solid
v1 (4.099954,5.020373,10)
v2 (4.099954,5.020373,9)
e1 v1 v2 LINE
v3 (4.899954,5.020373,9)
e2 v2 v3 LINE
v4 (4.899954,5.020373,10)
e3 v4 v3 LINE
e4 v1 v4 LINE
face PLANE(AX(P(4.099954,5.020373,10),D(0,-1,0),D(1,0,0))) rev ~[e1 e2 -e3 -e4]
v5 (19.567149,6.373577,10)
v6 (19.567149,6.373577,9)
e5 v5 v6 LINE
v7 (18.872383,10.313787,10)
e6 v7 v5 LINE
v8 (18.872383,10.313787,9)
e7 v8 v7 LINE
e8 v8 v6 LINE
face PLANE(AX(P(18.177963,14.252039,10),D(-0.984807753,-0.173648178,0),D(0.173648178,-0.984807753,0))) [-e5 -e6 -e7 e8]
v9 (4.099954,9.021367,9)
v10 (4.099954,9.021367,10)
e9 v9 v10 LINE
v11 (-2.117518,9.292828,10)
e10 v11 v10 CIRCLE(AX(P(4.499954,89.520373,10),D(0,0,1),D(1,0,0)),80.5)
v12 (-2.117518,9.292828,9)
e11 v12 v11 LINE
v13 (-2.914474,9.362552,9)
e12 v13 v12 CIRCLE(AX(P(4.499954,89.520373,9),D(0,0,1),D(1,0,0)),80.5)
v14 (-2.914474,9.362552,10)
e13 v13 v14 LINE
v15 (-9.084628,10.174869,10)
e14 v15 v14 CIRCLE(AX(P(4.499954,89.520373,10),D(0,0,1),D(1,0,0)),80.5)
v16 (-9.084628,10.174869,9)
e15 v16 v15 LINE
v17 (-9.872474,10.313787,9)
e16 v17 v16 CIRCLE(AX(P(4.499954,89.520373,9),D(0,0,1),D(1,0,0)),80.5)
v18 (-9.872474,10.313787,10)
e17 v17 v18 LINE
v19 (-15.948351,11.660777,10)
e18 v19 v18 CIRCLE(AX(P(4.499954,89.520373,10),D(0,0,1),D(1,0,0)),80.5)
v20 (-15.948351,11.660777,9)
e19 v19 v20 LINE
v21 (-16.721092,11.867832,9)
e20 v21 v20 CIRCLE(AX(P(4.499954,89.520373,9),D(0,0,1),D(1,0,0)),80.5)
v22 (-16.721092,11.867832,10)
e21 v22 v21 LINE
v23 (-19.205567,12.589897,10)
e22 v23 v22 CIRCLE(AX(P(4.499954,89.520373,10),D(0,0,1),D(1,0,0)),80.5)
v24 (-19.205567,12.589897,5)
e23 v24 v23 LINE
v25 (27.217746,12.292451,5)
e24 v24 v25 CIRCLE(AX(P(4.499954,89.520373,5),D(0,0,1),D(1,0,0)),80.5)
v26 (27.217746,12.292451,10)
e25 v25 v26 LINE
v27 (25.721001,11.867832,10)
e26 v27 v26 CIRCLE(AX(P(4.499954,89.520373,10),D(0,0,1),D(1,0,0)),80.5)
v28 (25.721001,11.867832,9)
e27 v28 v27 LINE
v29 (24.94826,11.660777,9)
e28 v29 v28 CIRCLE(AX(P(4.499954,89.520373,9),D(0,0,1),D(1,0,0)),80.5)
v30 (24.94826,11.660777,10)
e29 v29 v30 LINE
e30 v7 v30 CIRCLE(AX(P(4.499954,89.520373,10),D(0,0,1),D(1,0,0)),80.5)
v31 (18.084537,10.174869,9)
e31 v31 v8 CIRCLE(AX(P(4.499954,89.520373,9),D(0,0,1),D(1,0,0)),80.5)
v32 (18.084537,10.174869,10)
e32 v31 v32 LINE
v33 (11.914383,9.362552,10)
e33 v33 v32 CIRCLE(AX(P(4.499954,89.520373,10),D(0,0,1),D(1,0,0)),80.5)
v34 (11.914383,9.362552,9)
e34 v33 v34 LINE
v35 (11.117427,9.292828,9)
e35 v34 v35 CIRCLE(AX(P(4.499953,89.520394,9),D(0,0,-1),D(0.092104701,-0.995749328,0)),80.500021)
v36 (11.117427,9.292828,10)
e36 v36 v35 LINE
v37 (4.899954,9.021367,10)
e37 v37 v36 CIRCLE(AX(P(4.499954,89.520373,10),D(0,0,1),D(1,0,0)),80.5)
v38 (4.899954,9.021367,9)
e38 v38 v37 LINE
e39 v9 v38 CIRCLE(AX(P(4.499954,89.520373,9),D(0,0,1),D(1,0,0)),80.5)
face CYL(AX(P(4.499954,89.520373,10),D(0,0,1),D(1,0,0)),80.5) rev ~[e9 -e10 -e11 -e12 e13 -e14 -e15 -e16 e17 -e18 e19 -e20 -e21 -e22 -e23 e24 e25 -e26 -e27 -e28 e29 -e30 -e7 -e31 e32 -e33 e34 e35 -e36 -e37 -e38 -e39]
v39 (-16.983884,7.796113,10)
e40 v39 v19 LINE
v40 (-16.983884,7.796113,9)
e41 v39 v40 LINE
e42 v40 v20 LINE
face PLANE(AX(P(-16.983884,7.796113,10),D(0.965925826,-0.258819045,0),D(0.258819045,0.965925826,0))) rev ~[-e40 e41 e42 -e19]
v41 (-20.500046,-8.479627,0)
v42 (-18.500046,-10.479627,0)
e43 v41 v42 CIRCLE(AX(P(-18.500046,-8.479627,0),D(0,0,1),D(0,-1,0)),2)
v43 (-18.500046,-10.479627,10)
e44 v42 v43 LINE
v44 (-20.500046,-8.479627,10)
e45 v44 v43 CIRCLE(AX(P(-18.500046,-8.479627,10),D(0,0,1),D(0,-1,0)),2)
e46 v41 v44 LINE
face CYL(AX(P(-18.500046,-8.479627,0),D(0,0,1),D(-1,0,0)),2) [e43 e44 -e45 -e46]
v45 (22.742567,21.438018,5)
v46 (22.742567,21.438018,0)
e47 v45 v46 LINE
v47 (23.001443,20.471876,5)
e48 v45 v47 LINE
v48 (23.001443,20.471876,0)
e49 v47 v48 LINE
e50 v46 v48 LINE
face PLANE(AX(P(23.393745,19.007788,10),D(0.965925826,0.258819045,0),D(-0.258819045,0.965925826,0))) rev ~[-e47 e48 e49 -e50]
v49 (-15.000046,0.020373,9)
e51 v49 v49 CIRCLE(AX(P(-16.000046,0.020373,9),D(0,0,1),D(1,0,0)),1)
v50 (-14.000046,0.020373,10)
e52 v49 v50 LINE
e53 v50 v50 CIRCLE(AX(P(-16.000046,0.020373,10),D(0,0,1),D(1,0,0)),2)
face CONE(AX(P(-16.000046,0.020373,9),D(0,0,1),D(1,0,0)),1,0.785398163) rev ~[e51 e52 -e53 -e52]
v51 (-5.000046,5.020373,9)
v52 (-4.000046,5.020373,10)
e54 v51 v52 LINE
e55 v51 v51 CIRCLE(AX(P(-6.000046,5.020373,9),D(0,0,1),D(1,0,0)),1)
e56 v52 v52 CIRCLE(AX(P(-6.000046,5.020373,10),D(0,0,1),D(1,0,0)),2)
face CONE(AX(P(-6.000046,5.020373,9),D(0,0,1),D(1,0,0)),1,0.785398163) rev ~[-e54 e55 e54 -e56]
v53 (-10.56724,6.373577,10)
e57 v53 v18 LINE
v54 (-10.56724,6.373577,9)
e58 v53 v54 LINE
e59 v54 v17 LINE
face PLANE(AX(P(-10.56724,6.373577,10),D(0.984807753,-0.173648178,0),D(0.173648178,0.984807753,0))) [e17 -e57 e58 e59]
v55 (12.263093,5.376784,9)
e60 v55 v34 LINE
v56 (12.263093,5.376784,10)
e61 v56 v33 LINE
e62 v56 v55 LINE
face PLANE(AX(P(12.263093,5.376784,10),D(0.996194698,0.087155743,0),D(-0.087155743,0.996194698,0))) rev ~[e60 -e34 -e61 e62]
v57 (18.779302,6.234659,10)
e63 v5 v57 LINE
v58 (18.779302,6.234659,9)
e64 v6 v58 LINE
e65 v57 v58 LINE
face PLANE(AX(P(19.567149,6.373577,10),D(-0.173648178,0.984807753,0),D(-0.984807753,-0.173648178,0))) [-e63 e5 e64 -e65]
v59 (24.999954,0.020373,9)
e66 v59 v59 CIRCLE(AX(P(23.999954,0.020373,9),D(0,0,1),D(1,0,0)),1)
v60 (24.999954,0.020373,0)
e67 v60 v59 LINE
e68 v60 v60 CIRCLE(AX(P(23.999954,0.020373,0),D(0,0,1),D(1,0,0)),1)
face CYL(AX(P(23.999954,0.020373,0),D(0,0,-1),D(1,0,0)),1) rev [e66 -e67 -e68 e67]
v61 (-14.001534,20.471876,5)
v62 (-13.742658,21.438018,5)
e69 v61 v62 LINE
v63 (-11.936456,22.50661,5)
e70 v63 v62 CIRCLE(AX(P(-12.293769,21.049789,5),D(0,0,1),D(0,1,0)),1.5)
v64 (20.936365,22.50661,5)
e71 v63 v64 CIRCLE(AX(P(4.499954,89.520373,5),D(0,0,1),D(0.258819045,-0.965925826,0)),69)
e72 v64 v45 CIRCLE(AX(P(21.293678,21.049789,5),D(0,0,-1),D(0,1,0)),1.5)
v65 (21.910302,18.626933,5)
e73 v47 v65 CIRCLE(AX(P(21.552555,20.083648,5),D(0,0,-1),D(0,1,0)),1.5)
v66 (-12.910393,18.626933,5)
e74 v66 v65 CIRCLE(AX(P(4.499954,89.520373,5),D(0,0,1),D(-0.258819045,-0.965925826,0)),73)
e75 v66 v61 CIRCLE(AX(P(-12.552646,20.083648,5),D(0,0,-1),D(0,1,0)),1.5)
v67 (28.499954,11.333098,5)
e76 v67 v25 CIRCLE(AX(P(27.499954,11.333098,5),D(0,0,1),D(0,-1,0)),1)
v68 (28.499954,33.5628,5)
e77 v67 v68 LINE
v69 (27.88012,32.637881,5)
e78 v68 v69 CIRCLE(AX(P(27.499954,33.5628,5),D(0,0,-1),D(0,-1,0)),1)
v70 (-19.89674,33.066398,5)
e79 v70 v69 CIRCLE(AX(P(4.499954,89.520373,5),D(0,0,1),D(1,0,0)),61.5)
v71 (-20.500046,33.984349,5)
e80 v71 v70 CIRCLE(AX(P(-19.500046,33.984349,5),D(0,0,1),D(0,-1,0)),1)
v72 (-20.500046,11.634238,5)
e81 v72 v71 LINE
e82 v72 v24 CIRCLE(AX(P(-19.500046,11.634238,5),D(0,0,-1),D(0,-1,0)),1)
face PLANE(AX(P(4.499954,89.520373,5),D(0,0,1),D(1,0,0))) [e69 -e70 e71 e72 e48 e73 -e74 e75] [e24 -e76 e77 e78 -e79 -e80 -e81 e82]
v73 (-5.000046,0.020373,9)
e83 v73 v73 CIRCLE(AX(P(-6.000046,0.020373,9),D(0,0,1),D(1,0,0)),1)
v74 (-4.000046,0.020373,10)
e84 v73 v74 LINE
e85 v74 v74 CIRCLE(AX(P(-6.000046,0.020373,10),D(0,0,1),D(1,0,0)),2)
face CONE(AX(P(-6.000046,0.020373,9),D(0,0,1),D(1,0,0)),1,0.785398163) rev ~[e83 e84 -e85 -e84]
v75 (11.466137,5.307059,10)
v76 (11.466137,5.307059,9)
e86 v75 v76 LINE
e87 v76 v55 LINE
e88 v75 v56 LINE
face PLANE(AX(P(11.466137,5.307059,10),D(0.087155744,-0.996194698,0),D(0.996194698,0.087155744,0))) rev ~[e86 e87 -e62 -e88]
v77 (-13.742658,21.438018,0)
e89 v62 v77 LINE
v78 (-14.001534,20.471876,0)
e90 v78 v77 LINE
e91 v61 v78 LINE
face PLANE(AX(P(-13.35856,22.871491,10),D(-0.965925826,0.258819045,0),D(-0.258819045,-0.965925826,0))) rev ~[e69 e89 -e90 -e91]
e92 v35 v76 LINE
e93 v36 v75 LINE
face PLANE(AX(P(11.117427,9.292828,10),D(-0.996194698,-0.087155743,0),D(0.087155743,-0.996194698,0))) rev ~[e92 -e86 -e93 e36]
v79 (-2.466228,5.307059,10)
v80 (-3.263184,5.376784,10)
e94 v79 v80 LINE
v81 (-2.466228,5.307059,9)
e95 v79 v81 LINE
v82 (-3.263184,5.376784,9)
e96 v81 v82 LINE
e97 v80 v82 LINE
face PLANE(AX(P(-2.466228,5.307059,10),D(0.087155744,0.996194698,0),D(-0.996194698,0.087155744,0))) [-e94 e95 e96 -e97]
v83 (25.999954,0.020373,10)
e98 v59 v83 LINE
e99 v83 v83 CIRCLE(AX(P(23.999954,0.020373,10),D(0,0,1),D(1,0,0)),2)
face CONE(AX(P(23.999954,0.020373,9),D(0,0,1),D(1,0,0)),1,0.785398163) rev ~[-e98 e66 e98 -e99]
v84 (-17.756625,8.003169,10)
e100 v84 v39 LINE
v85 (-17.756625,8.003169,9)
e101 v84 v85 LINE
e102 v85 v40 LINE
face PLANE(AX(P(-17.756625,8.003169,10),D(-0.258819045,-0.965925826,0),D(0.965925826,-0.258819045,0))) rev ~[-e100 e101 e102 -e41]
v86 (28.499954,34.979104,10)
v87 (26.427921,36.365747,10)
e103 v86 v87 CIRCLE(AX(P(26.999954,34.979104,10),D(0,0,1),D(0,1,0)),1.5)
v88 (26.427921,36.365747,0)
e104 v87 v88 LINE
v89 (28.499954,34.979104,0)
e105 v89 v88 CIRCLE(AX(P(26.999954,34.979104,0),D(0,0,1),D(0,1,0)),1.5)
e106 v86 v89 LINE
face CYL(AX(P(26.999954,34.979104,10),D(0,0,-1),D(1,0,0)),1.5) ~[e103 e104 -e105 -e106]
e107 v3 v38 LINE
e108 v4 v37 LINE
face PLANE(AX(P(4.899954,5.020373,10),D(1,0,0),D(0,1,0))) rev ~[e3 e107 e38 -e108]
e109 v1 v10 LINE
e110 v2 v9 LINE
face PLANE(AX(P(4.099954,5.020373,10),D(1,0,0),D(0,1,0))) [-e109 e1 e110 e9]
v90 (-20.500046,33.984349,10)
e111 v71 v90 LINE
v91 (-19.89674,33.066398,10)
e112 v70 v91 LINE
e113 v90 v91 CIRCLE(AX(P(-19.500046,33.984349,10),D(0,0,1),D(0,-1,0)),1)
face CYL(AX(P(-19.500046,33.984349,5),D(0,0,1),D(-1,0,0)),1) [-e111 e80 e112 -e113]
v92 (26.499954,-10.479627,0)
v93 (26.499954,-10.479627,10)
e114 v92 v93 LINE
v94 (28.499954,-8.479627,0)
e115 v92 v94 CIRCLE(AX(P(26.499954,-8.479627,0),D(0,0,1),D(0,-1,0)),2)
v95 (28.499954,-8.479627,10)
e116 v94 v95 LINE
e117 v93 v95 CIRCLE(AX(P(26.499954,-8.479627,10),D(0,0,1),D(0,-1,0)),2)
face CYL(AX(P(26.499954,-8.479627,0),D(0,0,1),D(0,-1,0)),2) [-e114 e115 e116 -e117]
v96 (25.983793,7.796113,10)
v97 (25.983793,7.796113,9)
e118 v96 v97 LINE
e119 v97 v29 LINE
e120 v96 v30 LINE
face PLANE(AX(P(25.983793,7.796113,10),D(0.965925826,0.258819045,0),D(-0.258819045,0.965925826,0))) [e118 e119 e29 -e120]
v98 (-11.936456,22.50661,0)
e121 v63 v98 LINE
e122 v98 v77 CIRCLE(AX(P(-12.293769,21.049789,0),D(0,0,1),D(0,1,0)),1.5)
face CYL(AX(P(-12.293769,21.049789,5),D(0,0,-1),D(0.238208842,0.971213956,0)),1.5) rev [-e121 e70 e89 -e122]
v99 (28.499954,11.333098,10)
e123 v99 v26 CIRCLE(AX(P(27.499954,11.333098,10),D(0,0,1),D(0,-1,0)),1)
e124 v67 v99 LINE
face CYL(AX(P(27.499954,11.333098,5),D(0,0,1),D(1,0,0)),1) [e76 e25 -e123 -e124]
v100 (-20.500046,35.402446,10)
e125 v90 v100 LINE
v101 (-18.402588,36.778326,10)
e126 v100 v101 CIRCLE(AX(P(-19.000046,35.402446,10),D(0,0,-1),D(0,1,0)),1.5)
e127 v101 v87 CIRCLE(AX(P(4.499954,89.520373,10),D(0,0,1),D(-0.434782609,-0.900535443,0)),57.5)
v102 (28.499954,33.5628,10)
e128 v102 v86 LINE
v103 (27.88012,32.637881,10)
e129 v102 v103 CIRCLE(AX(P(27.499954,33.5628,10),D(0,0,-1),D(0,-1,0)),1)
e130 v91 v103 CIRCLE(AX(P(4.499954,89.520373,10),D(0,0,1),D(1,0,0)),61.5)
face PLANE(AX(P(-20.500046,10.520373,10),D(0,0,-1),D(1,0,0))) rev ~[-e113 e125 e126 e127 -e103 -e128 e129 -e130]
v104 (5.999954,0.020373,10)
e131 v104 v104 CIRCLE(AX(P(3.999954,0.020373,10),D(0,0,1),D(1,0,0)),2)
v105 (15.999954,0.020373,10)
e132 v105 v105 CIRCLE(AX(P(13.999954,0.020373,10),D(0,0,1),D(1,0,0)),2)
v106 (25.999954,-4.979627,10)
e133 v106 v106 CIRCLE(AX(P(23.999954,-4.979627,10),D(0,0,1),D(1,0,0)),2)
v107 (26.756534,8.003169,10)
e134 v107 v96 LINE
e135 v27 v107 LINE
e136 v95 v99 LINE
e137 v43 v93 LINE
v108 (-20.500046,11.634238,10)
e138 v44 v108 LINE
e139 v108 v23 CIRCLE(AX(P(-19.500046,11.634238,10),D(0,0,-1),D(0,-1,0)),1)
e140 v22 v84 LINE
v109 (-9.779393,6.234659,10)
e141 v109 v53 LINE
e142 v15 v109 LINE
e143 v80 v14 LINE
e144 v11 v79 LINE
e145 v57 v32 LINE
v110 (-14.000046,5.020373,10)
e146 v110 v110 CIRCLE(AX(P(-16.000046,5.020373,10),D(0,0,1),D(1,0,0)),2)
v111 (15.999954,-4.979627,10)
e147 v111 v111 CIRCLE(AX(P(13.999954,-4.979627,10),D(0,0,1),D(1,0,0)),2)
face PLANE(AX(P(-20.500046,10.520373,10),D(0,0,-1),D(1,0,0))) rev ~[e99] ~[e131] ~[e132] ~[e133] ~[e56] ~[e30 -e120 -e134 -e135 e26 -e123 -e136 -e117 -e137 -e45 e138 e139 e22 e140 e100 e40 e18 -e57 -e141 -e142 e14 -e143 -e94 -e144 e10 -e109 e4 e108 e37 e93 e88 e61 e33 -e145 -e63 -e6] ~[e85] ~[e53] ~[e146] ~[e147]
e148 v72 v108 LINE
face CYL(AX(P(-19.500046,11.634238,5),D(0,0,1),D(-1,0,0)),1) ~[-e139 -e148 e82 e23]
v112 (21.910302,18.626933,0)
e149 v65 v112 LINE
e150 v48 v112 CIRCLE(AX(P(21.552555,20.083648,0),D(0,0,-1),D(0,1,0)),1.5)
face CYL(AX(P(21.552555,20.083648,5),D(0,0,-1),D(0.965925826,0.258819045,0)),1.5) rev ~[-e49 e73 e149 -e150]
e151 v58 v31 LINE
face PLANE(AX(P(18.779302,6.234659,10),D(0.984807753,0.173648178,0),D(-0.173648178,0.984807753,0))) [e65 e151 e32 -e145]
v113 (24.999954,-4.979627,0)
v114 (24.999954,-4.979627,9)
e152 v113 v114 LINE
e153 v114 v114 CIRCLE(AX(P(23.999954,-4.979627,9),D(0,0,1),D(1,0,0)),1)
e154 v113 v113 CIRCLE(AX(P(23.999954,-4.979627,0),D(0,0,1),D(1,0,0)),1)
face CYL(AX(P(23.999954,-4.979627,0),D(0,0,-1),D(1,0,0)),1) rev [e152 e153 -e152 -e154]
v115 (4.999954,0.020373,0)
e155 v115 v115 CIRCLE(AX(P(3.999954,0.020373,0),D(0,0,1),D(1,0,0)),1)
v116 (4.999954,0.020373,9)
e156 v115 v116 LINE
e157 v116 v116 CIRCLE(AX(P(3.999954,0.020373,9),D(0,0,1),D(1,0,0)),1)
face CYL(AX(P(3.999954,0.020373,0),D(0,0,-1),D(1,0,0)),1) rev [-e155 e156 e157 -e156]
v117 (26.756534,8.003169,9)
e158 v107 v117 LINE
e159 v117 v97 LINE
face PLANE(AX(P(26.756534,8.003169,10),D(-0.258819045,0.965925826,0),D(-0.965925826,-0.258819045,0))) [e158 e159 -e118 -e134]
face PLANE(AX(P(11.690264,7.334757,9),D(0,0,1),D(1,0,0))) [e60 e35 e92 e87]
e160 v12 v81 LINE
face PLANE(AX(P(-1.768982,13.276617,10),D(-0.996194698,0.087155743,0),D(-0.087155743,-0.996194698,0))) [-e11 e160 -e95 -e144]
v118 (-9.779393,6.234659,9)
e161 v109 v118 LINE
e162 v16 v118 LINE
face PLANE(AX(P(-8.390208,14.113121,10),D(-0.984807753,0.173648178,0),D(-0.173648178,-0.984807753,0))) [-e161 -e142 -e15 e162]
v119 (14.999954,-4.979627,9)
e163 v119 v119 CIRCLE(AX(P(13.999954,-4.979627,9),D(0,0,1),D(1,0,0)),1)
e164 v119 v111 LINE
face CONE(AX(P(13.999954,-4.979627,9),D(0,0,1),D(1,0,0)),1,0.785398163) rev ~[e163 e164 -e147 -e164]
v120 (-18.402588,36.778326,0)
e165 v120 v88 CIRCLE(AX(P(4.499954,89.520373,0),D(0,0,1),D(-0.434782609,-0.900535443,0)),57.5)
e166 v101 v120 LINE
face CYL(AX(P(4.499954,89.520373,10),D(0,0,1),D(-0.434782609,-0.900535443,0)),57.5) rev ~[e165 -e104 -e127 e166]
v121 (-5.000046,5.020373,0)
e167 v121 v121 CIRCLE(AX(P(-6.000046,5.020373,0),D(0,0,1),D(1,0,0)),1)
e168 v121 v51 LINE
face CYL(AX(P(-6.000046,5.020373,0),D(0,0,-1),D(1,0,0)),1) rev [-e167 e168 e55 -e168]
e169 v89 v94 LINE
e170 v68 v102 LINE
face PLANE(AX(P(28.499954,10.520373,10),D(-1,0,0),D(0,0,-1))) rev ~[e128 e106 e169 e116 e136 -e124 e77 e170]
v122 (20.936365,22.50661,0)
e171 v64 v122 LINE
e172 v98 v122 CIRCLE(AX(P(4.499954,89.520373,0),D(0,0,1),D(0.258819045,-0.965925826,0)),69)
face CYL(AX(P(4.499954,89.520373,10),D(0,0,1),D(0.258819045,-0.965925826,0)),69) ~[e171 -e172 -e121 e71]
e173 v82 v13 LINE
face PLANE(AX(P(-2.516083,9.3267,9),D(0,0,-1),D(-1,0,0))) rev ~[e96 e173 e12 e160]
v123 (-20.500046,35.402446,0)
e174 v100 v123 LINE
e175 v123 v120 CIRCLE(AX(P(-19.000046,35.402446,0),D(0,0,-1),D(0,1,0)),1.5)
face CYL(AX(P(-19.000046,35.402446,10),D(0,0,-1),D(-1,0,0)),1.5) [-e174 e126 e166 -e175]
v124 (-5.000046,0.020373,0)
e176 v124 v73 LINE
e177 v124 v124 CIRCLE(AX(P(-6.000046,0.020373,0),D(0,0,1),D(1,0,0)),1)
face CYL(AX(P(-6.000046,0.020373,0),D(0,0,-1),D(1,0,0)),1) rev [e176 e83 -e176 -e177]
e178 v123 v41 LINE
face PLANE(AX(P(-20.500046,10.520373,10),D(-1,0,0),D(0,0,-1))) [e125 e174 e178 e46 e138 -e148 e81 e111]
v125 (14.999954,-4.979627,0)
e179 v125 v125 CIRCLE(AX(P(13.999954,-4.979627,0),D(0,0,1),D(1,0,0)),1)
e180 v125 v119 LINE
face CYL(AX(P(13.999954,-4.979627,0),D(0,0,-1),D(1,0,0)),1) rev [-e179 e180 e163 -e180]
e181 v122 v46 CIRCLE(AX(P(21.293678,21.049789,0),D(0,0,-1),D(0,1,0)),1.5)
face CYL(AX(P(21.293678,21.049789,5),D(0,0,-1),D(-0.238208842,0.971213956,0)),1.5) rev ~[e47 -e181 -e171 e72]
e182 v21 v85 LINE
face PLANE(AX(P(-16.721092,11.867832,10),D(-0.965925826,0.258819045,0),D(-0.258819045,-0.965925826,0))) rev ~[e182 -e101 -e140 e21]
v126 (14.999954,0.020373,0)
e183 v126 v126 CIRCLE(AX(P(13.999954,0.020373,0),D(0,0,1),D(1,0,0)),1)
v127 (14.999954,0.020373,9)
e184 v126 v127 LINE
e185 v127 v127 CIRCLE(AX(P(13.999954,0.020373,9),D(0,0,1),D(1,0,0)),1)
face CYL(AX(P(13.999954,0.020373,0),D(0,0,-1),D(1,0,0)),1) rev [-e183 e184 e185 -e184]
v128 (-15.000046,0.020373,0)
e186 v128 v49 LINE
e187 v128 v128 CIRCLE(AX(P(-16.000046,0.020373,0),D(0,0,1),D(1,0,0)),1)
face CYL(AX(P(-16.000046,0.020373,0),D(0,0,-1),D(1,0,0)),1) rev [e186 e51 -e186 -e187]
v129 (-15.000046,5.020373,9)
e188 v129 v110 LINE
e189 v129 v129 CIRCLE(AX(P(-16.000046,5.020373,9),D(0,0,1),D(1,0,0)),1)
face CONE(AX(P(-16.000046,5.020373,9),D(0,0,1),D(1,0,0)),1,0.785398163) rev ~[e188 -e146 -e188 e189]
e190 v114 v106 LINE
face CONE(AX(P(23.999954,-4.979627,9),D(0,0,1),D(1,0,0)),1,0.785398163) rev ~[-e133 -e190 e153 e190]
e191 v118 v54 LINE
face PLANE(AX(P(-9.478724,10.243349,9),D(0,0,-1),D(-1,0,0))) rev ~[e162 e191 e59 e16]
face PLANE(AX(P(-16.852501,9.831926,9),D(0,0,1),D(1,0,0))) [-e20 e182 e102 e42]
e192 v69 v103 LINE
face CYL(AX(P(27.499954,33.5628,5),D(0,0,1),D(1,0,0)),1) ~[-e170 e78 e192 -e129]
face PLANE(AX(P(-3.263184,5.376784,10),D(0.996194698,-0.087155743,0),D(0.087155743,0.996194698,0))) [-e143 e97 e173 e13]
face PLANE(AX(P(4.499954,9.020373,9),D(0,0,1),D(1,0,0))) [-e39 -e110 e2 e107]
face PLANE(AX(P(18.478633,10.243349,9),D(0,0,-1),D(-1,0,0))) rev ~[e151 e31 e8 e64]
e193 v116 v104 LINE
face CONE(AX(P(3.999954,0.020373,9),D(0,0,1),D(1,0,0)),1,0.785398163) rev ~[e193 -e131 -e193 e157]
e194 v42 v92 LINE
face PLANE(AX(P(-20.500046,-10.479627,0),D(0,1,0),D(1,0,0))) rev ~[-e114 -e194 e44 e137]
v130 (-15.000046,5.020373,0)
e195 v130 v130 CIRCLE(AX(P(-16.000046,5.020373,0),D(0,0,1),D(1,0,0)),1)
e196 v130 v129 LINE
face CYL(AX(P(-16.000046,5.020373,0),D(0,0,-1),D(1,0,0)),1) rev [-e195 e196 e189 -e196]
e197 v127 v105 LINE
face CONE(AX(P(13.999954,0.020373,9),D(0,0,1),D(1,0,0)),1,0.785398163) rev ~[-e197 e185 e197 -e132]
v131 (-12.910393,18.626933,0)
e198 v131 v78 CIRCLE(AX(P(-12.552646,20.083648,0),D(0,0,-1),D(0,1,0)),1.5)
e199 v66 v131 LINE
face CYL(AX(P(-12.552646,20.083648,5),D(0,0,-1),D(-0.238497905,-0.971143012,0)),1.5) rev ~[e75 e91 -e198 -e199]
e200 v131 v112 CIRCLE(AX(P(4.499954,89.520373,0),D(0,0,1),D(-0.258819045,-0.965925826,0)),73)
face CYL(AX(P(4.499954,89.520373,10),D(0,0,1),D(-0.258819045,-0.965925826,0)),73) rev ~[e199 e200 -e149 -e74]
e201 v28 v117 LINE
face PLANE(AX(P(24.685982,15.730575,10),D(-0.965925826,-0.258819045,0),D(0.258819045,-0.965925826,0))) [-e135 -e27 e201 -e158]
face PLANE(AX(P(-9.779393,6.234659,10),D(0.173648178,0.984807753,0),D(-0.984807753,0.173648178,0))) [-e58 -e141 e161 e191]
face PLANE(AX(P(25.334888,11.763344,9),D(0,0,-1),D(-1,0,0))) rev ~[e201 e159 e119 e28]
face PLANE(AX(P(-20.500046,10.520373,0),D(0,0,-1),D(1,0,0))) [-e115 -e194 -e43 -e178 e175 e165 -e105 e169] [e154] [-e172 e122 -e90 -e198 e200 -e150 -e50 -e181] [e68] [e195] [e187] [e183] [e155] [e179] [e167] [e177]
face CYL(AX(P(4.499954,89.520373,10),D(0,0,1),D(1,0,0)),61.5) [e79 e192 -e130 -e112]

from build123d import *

# Parameters (mm, degrees)
SKETCH1_W           = 49
SKETCH1_H           = 21
SKETCH1_R           = 1
BOSS_EXTRUDE4_DEPTH = 10
CHAMFER2_SIZE       = 1
FILLET2_R           = 2
SKETCH2_W           = 49
SKETCH2_H           = 10
BOSS_EXTRUDE5_DEPTH = 30
CUT_EXTRUDE1_DEPTH  = 73
CUT_EXTRUDE2_DEPTH  = 5
SKETCH4_4_W         = 0.8
SKETCH4_4_H         = 8
CUT_EXTRUDE3_DEPTH  = 1
FILLET4_R           = 1.5
FILLET6_R           = 1.5
FILLET7_R           = 1


with BuildPart() as part:
    # Sketch1 → Boss-Extrude4 (new body)
    with BuildSketch(Plane.XY):
        with Locations((3.999954481, 0.020373254)):
            Rectangle(SKETCH1_W, SKETCH1_H)
        with Locations((-16.000045519, 0.020373254)):
            Circle(SKETCH1_R, mode=Mode.SUBTRACT)
        with Locations((-6.000045519, 0.020373254)):
            Circle(SKETCH1_R, mode=Mode.SUBTRACT)
        with Locations((13.999954481, -4.979626746)):
            Circle(SKETCH1_R, mode=Mode.SUBTRACT)
        with Locations((23.999954481, -4.979626746)):
            Circle(SKETCH1_R, mode=Mode.SUBTRACT)
        with Locations((-16.000045519, 5.020373254)):
            Circle(SKETCH1_R, mode=Mode.SUBTRACT)
        with Locations((3.999954481, 0.020373254)):
            Circle(SKETCH1_R, mode=Mode.SUBTRACT)
        with Locations((-6.000045519, 5.020373254)):
            Circle(SKETCH1_R, mode=Mode.SUBTRACT)
        with Locations((13.999954481, 0.020373254)):
            Circle(SKETCH1_R, mode=Mode.SUBTRACT)
        with Locations((23.999954481, 0.020373254)):
            Circle(SKETCH1_R, mode=Mode.SUBTRACT)
    extrude(amount=BOSS_EXTRUDE4_DEPTH)

    # Chamfer2
    chamfer2_edges = [part.edges().sort_by_distance(p)[0] for p in [
        (-17.000045519, 0.020373254, 10),
        (-17.000045519, 5.020373254, 10),
        (-7.000045519, 5.020373254, 10),
        (-7.000045519, 0.020373254, 10),
        (2.999954481, 0.020373254, 10),
        (22.999954481, 0.020373254, 10),
        (12.999954481, 0.020373254, 10),
        (12.999954481, -4.979626746, 10),
        (22.999954481, -4.979626746, 10),
    ]]
    chamfer(chamfer2_edges, length=CHAMFER2_SIZE)

    # Fillet2
    fillet2_edges = [part.edges().sort_by_distance(p)[0] for p in [
        (-20.500045519, -10.479626746, 5),
        (28.499954481, -10.479626746, 5),
    ]]
    fillet(fillet2_edges, radius=FILLET2_R)

    # Sketch2 → Boss-Extrude5 (add)
    with BuildSketch(Plane(origin=(0, 10.520373254, 0), x_dir=(1, 0, 0), z_dir=(0, 1, 0))):
        with Locations((3.999954481, -5)):
            Rectangle(SKETCH2_W, SKETCH2_H)
    extrude(amount=BOSS_EXTRUDE5_DEPTH)

    # Sketch4 → Cut-Extrude1 (cut)
    with BuildSketch(Plane.XY.offset(10)):
        with BuildLine():
            ThreePointArc((22.358468593, 22.87149124), (4.499954481, 20.520373254), (-13.358559631, 22.87149124))
            Line((-13.358559631, 22.87149124), (-14.393835812, 19.007787935))
            ThreePointArc((-14.393835812, 19.007787935), (4.499954481, 16.520373254), (23.393744773, 19.007787935))
            Line((23.393744773, 19.007787935), (22.358468593, 22.87149124))
        make_face()
        with BuildLine():
            Line((-20.500045519, 40.520373254), (-20.500045519, 37.739585311))
            ThreePointArc((-20.500045519, 37.739585311), (3.947268557, 32.023029505), (28.499954481, 37.268579027))
            Line((28.499954481, 37.268579027), (28.499954481, 40.520373254))
            Line((28.499954481, 40.520373254), (-20.500045519, 40.520373254))
        make_face()
    extrude(amount=-CUT_EXTRUDE1_DEPTH, mode=Mode.SUBTRACT)

    # Sketch4<3> → Cut-Extrude2 (cut)
    with BuildSketch(Plane.XY.offset(10)):
        with BuildLine():
            Line((-20.500045519, 33.33096144), (-20.500045519, 13.000767923))
            ThreePointArc((-20.500045519, 13.000767923), (3.975052557, 9.022084589), (28.499954481, 12.681255612))
            Line((28.499954481, 12.681255612), (28.499954481, 32.89661499))
            ThreePointArc((28.499954481, 32.89661499), (3.95482678, 28.022789271), (-20.500045519, 33.33096144))
        make_face()
        with BuildLine():
            ThreePointArc((-13.358559631, 22.87149124), (4.499954481, 20.520373254), (22.358468593, 22.87149124))
            Line((22.358468593, 22.87149124), (23.393744773, 19.007787935))
            ThreePointArc((23.393744773, 19.007787935), (4.499954481, 16.520373254), (-14.393835812, 19.007787935))
            Line((-14.393835812, 19.007787935), (-13.358559631, 22.87149124))
        make_face(mode=Mode.SUBTRACT)
    extrude(amount=-CUT_EXTRUDE2_DEPTH, mode=Mode.SUBTRACT)

    # Sketch4<4> → Cut-Extrude3 (cut)
    with BuildSketch(Plane.XY.offset(10)):
        Polygon((-1.76898196, 13.276616553), (-2.565937719, 13.346341147), (-3.26318366, 5.376783563), (-2.466227902, 5.307058968), align=None)
        with Locations((4.499954481, 9.020373254)):
            Rectangle(SKETCH4_4_W, SKETCH4_4_H)
        Polygon((-9.178054212, 14.25203942), (-10.567239633, 6.373577396), (-9.779393431, 6.234658854), (-8.390208009, 14.113120878), align=None)
        Polygon((12.263092622, 5.376783563), (11.56584668, 13.346341147), (10.768890922, 13.276616553), (11.466136864, 5.307058968), align=None)
        Polygon((-15.6860728, 15.730575161), (-17.756625161, 8.003168551), (-16.9838845, 7.796113315), (-14.913332139, 15.523519925), align=None)
        Polygon((19.567148595, 6.373577396), (18.177963174, 14.25203942), (17.390116971, 14.113120878), (18.779302393, 6.234658854), align=None)
        Polygon((23.913241101, 15.523519925), (25.983793462, 7.796113315), (26.756534123, 8.003168551), (24.685981762, 15.730575161), align=None)
    extrude(amount=-CUT_EXTRUDE3_DEPTH, mode=Mode.SUBTRACT)

    # Fillet4
    fillet4_edges = [part.edges().sort_by_distance(p)[0] for p in [
        (-14.393835812, 19.007787935, 2.5),
        (-13.358559631, 22.87149124, 2.5),
        (22.358468593, 22.87149124, 2.5),
        (23.393744773, 19.007787935, 2.5),
    ]]
    fillet(fillet4_edges, radius=FILLET4_R)

    # Fillet6
    fillet6_edges = [part.edges().sort_by_distance(p)[0] for p in [
        (-20.500045519, 37.739585311, 5),
        (28.499954481, 37.268579027, 5),
    ]]
    fillet(fillet6_edges, radius=FILLET6_R)

    # Fillet7
    fillet7_edges = [part.edges().sort_by_distance(p)[0] for p in [
        (28.499954481, 12.681255612, 7.5),
        (-20.500045519, 13.000767923, 7.5),
        (-20.500045519, 33.33096144, 7.5),
        (28.499954481, 32.89661499, 7.5),
    ]]
    fillet(fillet7_edges, radius=FILLET7_R)


solid = part.part
